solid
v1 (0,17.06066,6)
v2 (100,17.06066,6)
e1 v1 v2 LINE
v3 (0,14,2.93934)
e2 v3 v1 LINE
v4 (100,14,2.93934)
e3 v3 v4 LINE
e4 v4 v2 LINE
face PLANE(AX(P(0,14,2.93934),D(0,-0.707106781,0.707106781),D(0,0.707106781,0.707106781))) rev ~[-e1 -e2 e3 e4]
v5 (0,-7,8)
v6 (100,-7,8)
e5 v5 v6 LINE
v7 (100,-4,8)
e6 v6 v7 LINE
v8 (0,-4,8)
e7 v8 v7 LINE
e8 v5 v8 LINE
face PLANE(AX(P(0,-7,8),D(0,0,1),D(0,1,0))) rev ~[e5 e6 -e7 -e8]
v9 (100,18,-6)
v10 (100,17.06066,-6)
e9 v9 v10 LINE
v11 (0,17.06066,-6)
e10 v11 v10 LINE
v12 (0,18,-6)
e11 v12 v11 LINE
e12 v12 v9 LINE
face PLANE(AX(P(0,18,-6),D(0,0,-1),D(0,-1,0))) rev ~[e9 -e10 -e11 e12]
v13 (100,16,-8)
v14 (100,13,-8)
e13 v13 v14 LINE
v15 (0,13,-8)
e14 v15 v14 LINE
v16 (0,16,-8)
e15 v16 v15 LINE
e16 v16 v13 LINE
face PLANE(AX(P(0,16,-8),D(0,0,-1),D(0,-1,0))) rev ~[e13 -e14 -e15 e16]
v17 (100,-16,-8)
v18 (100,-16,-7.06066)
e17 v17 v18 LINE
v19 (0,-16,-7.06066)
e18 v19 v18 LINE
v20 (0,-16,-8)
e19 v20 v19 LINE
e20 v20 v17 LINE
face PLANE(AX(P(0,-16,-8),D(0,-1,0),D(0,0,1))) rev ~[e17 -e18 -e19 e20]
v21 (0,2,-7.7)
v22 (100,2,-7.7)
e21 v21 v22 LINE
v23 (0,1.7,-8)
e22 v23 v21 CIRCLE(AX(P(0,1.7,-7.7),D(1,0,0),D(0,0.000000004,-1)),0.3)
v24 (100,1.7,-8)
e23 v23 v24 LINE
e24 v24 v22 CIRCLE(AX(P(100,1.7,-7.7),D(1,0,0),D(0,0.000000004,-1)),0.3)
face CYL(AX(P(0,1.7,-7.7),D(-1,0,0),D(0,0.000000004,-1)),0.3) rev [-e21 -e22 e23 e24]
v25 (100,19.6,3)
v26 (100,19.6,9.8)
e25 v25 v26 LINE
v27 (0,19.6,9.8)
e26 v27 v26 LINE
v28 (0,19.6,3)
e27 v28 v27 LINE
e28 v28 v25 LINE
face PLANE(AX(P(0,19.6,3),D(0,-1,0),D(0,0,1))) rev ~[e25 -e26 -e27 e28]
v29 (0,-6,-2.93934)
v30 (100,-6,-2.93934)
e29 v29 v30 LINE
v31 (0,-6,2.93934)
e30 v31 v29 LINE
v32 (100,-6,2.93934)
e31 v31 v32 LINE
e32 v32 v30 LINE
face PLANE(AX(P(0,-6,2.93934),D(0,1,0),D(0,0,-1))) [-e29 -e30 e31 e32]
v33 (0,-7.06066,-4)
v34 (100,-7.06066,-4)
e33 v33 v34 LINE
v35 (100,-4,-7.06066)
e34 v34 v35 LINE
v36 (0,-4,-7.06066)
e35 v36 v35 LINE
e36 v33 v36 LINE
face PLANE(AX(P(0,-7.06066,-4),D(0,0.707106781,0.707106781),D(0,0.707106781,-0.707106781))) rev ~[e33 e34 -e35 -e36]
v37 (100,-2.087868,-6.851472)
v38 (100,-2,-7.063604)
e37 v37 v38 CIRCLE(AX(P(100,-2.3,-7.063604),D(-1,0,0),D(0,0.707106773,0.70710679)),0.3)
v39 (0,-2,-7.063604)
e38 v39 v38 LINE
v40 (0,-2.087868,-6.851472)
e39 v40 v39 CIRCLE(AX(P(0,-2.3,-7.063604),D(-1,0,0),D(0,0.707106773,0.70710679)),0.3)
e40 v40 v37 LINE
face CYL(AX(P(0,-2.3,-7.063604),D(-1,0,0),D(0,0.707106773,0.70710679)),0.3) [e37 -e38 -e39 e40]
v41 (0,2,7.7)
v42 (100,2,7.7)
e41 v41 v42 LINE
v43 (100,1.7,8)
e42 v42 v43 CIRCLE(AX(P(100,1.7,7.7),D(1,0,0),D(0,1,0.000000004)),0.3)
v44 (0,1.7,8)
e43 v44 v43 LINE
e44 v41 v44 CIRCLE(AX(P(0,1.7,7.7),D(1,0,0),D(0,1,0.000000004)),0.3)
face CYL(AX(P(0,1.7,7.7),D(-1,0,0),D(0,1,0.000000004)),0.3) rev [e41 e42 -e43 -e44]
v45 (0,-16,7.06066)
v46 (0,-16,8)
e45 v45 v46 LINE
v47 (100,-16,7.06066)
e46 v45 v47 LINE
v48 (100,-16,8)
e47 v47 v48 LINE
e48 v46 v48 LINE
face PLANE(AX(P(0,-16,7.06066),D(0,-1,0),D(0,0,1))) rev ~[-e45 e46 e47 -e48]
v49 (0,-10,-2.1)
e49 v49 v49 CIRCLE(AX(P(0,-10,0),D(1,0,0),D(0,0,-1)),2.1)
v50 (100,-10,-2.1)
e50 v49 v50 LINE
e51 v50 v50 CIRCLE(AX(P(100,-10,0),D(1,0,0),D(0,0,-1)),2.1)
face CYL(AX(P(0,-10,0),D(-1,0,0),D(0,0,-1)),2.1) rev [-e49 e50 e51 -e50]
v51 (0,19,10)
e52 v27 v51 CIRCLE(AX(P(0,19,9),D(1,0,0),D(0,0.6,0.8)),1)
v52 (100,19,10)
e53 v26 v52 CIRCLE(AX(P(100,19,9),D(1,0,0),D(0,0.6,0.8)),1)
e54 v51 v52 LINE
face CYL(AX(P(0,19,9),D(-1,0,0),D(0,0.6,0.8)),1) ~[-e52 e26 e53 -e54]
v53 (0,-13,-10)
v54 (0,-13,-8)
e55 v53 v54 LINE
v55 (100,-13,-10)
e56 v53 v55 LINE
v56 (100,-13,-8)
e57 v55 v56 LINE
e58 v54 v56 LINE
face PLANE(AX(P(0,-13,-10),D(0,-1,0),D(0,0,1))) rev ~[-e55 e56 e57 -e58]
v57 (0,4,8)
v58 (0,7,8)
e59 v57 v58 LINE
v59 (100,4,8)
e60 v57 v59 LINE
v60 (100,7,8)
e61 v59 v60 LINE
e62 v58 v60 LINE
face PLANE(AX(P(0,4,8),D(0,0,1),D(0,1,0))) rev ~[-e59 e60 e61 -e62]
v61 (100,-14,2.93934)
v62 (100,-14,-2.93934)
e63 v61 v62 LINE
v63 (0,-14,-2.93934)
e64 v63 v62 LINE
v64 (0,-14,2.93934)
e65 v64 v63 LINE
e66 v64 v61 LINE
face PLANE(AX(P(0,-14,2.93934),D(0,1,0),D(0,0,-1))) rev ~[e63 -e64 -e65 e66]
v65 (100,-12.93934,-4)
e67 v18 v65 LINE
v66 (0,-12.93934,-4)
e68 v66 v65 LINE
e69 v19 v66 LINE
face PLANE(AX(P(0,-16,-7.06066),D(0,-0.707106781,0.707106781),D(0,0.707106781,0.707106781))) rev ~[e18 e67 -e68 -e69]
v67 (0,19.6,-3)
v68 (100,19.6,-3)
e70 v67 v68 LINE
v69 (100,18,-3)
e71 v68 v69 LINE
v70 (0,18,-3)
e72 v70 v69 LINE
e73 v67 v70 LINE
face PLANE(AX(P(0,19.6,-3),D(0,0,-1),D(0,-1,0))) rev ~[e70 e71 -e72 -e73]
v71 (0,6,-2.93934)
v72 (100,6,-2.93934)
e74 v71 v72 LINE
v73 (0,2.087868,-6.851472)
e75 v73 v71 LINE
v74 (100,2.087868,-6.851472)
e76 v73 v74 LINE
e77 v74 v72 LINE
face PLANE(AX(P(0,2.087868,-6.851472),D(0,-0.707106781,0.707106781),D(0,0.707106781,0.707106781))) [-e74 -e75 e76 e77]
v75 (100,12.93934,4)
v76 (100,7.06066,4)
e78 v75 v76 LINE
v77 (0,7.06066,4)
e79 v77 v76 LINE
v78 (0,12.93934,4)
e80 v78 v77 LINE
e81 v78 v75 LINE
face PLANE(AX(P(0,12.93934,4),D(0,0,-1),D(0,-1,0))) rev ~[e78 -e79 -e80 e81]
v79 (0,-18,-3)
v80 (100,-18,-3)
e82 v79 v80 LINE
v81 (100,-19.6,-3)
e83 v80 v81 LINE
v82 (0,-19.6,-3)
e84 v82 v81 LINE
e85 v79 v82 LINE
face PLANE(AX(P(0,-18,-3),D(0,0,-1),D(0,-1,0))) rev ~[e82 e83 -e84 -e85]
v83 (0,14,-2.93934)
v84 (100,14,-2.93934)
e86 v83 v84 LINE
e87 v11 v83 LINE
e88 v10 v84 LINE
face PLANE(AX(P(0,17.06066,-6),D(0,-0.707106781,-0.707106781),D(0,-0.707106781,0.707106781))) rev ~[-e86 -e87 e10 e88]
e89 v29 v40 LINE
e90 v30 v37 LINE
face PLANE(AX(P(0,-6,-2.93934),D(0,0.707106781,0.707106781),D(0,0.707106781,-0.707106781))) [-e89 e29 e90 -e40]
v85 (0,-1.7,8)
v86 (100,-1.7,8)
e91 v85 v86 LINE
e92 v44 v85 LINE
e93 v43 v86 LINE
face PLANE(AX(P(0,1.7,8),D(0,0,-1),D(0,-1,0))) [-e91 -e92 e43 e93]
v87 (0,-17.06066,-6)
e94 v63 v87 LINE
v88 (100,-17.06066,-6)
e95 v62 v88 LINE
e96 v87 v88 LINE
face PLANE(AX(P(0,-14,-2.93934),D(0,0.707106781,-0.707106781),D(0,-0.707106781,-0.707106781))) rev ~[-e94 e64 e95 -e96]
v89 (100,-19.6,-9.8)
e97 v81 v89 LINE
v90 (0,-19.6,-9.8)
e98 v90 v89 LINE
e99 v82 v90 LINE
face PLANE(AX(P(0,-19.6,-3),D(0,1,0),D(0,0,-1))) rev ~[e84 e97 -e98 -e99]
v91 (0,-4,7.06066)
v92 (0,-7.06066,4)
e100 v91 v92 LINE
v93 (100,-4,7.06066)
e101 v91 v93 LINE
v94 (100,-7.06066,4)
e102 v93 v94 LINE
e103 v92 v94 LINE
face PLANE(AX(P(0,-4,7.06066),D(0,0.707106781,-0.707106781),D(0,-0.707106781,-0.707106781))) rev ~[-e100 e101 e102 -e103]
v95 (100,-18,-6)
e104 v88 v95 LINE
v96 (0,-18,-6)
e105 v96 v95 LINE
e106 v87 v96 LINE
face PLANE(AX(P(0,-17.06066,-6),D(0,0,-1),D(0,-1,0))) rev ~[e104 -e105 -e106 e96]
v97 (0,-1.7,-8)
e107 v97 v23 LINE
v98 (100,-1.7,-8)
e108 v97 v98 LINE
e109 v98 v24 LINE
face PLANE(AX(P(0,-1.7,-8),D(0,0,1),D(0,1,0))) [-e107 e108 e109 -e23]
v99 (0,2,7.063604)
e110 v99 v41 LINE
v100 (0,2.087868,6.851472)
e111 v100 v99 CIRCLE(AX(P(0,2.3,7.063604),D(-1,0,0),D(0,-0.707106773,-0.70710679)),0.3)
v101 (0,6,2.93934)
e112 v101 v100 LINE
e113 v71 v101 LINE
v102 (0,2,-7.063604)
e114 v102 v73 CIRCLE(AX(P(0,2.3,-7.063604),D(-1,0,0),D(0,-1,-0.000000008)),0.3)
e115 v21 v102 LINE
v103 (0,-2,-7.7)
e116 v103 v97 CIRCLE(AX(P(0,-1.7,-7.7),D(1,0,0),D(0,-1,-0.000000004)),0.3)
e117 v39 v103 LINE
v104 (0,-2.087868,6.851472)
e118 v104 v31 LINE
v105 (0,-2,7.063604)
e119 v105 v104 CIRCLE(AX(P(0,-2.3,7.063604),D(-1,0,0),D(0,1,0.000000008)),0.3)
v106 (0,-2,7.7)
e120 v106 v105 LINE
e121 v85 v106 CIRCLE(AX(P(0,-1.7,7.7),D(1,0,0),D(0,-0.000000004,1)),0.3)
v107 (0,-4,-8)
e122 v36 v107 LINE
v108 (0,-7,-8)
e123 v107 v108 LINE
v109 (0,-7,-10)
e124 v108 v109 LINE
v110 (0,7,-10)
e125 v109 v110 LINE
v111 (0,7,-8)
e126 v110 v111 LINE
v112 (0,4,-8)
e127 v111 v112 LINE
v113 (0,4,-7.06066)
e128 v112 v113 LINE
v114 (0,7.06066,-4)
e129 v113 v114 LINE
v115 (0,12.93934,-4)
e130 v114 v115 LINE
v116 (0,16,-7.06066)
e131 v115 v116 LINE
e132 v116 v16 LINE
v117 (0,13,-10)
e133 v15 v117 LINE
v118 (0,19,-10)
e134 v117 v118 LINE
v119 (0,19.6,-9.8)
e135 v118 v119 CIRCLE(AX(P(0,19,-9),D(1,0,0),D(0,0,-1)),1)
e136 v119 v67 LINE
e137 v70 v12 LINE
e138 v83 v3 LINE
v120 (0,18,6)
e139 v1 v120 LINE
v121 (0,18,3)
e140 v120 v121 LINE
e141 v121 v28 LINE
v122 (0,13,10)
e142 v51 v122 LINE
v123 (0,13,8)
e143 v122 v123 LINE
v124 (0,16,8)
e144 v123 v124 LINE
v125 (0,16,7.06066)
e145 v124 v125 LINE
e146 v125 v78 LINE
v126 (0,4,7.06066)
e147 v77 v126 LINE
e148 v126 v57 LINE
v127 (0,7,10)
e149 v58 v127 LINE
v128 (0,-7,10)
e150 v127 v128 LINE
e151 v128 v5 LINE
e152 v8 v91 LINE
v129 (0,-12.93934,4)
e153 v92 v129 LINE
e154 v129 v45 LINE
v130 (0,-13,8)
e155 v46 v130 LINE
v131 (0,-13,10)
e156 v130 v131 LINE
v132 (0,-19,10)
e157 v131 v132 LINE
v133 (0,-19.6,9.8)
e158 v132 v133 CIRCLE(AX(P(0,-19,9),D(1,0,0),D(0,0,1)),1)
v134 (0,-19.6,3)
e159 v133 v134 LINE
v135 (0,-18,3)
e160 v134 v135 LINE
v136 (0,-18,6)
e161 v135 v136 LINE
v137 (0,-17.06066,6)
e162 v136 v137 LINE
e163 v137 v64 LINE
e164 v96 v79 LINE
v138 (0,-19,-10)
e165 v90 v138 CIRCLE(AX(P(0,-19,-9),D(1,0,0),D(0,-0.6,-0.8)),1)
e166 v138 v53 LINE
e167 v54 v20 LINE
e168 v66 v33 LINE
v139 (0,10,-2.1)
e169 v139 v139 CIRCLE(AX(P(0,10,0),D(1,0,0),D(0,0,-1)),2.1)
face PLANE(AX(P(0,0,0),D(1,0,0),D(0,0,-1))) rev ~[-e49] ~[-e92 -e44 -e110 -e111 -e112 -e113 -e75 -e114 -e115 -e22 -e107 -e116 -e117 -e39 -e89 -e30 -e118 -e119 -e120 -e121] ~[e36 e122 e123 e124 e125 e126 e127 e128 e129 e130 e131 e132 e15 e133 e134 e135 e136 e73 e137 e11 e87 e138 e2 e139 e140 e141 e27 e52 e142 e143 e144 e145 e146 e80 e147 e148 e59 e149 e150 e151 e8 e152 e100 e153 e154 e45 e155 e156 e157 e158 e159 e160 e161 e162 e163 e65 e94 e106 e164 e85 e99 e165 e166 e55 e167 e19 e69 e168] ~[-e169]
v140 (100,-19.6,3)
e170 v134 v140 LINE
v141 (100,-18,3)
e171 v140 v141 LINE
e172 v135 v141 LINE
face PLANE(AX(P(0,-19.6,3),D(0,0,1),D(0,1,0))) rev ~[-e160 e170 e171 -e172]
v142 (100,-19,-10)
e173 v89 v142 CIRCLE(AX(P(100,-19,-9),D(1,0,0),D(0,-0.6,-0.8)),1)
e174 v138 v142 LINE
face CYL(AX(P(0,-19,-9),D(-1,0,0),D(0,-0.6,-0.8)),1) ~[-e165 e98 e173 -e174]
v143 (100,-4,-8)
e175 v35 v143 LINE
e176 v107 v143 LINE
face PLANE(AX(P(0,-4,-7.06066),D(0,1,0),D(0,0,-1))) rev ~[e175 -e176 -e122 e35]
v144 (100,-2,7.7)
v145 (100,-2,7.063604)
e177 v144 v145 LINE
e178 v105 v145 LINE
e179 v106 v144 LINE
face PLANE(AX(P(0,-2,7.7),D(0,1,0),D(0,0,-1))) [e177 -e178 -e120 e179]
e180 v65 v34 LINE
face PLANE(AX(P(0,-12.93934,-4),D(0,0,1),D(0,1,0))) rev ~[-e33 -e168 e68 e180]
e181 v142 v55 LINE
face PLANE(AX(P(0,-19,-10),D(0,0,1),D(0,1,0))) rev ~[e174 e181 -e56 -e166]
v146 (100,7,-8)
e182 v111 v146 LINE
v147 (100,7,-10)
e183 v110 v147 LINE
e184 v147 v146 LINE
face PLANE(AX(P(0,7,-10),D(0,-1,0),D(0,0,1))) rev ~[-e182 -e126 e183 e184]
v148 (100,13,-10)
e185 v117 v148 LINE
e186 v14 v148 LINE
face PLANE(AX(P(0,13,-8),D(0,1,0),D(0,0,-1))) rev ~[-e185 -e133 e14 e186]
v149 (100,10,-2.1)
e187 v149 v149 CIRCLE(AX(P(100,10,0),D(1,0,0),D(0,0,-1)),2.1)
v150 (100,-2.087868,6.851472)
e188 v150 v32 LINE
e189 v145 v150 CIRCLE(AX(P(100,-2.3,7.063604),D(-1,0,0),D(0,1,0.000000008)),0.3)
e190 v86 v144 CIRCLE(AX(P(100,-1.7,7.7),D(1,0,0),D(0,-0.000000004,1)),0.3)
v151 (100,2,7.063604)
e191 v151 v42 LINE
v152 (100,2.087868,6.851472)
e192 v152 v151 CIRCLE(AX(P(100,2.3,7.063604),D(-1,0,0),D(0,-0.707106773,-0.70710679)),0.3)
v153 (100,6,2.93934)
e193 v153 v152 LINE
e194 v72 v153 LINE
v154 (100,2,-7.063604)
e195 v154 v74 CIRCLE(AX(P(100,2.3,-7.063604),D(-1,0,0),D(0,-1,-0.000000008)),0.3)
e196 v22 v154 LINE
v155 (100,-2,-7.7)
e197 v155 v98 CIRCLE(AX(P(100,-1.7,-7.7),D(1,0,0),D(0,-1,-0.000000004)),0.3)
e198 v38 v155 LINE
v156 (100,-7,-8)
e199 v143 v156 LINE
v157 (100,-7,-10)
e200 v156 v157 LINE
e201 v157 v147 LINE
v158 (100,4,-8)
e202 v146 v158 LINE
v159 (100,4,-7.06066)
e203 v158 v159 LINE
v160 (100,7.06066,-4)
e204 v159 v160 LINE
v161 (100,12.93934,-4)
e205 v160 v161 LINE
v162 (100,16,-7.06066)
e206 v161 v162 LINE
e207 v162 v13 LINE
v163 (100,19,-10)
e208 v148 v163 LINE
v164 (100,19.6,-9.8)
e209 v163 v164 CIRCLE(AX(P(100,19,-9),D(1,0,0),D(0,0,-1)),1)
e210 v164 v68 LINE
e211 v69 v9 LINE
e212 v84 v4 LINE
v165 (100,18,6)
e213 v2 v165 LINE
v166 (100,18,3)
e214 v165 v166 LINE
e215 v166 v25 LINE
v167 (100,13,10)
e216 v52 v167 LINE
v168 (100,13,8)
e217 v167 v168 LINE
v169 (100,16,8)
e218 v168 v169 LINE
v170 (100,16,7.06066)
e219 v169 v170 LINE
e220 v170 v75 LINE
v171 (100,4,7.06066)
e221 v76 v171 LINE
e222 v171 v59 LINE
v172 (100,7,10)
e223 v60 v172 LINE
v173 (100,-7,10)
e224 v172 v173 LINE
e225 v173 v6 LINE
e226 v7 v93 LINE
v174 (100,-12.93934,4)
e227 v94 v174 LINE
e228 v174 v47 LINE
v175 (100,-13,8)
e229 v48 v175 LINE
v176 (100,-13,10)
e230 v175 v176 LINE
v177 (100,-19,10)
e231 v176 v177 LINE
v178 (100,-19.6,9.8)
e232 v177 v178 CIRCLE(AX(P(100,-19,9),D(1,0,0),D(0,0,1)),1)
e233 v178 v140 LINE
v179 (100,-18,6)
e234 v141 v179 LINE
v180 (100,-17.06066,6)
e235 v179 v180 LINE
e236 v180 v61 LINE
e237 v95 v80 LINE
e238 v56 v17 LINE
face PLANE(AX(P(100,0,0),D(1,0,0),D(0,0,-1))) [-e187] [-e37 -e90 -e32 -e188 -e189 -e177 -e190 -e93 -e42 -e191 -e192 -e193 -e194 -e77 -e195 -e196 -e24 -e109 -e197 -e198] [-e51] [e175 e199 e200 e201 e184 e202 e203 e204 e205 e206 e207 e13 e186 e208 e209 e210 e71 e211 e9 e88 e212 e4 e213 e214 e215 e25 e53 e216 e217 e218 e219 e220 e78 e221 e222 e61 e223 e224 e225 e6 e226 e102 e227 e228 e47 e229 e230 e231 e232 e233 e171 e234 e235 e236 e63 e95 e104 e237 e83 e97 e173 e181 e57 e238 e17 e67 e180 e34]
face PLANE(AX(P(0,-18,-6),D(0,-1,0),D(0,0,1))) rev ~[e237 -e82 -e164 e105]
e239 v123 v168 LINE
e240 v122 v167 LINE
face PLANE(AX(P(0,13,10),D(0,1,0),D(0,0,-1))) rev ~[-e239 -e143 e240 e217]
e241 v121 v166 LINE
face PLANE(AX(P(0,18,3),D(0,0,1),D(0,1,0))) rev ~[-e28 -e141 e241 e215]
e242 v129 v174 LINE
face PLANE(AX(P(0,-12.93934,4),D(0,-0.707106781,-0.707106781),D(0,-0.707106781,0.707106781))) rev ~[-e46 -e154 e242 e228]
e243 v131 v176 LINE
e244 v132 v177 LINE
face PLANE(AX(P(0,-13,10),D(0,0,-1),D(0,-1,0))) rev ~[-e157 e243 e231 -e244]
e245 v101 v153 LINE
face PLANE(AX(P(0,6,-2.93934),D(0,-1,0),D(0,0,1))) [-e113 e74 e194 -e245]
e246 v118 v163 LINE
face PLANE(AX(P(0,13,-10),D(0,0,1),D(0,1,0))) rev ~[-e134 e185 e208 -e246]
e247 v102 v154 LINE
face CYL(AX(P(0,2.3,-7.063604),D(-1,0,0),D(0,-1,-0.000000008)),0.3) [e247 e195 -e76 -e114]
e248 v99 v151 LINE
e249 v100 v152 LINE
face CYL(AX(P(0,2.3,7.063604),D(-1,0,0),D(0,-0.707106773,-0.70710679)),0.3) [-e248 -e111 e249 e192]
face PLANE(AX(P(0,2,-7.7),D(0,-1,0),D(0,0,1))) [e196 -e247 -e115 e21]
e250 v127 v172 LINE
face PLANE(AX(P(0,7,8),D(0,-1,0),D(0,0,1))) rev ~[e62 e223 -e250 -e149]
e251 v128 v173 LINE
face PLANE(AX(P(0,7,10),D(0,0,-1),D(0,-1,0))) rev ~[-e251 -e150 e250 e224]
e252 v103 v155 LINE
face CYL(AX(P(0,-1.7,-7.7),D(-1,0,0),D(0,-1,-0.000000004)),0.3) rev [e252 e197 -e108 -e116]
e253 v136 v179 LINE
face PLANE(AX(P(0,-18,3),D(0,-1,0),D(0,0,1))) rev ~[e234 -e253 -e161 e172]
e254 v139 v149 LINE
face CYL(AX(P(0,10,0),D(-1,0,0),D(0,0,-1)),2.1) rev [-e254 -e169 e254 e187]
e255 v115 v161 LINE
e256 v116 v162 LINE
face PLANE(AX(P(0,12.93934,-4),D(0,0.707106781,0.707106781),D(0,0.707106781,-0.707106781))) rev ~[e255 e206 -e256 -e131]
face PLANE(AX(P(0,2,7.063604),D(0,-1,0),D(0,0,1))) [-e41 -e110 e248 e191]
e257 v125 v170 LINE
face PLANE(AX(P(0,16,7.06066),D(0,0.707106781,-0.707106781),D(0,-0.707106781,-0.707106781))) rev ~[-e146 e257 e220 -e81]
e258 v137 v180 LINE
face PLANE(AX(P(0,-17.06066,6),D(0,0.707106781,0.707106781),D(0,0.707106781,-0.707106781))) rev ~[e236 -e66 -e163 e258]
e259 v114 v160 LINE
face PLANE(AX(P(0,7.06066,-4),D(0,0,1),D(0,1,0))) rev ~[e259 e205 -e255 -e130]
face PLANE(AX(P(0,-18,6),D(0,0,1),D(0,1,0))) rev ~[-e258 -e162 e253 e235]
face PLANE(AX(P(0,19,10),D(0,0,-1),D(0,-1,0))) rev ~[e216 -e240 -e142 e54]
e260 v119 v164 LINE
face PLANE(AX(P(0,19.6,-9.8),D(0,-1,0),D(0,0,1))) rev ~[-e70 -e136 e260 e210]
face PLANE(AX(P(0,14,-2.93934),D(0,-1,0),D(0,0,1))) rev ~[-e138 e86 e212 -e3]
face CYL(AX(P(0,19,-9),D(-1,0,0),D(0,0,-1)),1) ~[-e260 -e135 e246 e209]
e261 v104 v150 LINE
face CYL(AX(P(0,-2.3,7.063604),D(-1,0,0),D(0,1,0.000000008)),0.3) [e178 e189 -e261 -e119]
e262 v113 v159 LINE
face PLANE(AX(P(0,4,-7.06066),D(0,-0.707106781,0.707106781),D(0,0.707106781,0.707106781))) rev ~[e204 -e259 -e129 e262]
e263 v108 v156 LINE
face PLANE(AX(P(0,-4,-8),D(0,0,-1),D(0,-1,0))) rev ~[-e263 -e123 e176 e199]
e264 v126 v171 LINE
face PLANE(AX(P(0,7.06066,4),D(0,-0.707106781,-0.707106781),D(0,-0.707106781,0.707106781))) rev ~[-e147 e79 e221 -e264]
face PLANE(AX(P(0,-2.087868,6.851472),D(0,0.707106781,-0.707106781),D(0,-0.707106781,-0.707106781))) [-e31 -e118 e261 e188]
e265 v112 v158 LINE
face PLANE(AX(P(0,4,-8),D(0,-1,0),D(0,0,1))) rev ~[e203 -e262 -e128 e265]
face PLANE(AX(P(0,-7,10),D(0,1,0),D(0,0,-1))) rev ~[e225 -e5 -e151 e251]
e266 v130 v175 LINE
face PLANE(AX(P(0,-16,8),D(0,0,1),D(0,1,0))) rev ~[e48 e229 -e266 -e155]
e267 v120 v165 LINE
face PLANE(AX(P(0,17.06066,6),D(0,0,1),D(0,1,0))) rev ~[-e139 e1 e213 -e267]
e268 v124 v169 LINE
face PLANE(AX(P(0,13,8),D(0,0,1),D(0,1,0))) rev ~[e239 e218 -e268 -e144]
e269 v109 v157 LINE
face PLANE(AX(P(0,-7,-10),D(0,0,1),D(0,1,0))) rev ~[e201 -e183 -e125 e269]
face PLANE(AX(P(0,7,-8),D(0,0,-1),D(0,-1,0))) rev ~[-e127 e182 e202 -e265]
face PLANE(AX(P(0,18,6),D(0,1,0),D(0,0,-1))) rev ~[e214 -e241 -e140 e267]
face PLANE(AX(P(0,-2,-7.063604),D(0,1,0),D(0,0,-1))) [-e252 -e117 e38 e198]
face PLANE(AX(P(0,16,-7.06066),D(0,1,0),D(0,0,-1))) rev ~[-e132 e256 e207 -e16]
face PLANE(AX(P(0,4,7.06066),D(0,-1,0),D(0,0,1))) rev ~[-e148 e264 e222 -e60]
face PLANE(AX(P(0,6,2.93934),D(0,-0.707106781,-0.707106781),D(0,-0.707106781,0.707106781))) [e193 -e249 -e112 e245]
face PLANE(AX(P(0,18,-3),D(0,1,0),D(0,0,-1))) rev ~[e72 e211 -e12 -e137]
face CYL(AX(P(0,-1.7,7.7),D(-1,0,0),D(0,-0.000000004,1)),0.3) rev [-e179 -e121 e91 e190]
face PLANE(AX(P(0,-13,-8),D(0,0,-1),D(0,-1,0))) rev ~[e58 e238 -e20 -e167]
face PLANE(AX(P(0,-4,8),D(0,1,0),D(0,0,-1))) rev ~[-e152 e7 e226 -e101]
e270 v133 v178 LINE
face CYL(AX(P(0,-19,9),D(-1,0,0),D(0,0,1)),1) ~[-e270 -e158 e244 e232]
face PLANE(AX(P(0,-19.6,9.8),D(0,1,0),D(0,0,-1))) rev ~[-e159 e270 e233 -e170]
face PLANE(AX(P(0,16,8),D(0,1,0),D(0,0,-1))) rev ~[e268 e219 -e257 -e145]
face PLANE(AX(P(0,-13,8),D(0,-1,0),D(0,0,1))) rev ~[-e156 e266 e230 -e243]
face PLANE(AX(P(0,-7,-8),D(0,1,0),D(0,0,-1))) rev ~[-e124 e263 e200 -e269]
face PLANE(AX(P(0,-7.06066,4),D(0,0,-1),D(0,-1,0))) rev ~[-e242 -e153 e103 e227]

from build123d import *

# Parameters (mm, degrees)
SKETCH1_R           = 2.1
BOSS_EXTRUDE1_DEPTH = 100


with BuildPart() as part:
    # Sketch1 → Boss-Extrude1 (new body)
    with BuildSketch(Plane(origin=(0, 0, 0), x_dir=(0, 0, -1), z_dir=(1, 0, 0))):
        with BuildLine():
            Line((-10, 7), (-10, -7))
            Line((-10, -7), (-8, -7))
            Line((-8, -7), (-8, -4))
            Line((-8, -4), (-7.060660172, -4))
            Line((-7.060660172, -4), (-4, -7.060660172))
            Line((-4, -7.060660172), (-4, -12.939339828))
            Line((-4, -12.939339828), (-7.060660172, -16))
            Line((-7.060660172, -16), (-8, -16))
            Line((-8, -16), (-8, -13))
            Line((-8, -13), (-10, -13))
            Line((-10, -13), (-10, -19))
            ThreePointArc((-10, -19), (-9.948683298, -19.316227766), (-9.8, -19.6))
            Line((-9.8, -19.6), (-3, -19.6))
            Line((-3, -19.6), (-3, -18))
            Line((-3, -18), (-6, -18))
            Line((-6, -18), (-6, -17.060660172))
            Line((-6, -17.060660172), (-2.939339828, -14))
            Line((-2.939339828, -14), (2.939339828, -14))
            Line((2.939339828, -14), (6, -17.060660172))
            Line((6, -17.060660172), (6, -18))
            Line((6, -18), (3, -18))
            Line((3, -18), (3, -19.6))
            Line((3, -19.6), (9.8, -19.6))
            ThreePointArc((9.8, -19.6), (9.948683298, -19.316227766), (10, -19))
            Line((10, -19), (10, -13))
            Line((10, -13), (8, -13))
            Line((8, -13), (8, -16))
            Line((8, -16), (7.060660172, -16))
            Line((7.060660172, -16), (4, -12.939339828))
            Line((4, -12.939339828), (4, -7.060660172))
            Line((4, -7.060660172), (7.060660172, -4))
            Line((7.060660172, -4), (8, -4))
            Line((8, -4), (8, -7))
            Line((8, -7), (10, -7))
            Line((10, -7), (10, 7))
            Line((10, 7), (8, 7))
            Line((8, 7), (8, 4))
            Line((8, 4), (7.060660172, 4))
            Line((7.060660172, 4), (4, 7.060660172))
            Line((4, 7.060660172), (4, 12.939339828))
            Line((4, 12.939339828), (7.060660172, 16))
            Line((7.060660172, 16), (8, 16))
            Line((8, 16), (8, 13))
            Line((8, 13), (10, 13))
            Line((10, 13), (10, 19))
            ThreePointArc((10, 19), (9.948683298, 19.316227766), (9.8, 19.6))
            Line((9.8, 19.6), (3, 19.6))
            Line((3, 19.6), (3, 18))
            Line((3, 18), (6, 18))
            Line((6, 18), (6, 17.060660172))
            Line((6, 17.060660172), (2.939339828, 14))
            Line((2.939339828, 14), (-2.939339828, 14))
            Line((-2.939339828, 14), (-6, 17.060660172))
            Line((-6, 17.060660172), (-6, 18))
            Line((-6, 18), (-3, 18))
            Line((-3, 18), (-3, 19.6))
            Line((-3, 19.6), (-9.8, 19.6))
            ThreePointArc((-9.8, 19.6), (-9.948683298, 19.316227766), (-10, 19))
            Line((-10, 19), (-10, 13))
            Line((-10, 13), (-8, 13))
            Line((-8, 13), (-8, 16))
            Line((-8, 16), (-7.060660172, 16))
            Line((-7.060660172, 16), (-4, 12.939339828))
            Line((-4, 12.939339828), (-4, 7.060660172))
            Line((-4, 7.060660172), (-7.060660172, 4))
            Line((-7.060660172, 4), (-8, 4))
            Line((-8, 4), (-8, 7))
            Line((-8, 7), (-10, 7))
        make_face()
        with Locations((0, 10)):
            Circle(SKETCH1_R, mode=Mode.SUBTRACT)
        with Locations((0, -10)):
            Circle(SKETCH1_R, mode=Mode.SUBTRACT)
        with BuildLine():
            Line((-8, 1.7), (-8, -1.7))
            ThreePointArc((-8, -1.7), (-7.912132034, -1.912132034), (-7.7, -2))
            Line((-7.7, -2), (-7.063603897, -2))
            ThreePointArc((-7.063603897, -2), (-6.948798867, -2.02283614), (-6.851471863, -2.087867966))
            Line((-6.851471863, -2.087867966), (-2.939339828, -6))
            Line((-2.939339828, -6), (2.939339828, -6))
            Line((2.939339828, -6), (6.851471863, -2.087867966))
            ThreePointArc((6.851471863, -2.087867966), (6.948798867, -2.02283614), (7.063603897, -2))
            Line((7.063603897, -2), (7.7, -2))
            ThreePointArc((7.7, -2), (7.912132034, -1.912132034), (8, -1.7))
            Line((8, -1.7), (8, 1.7))
            ThreePointArc((8, 1.7), (7.912132034, 1.912132034), (7.7, 2))
            Line((7.7, 2), (7.063603897, 2))
            ThreePointArc((7.063603897, 2), (6.948798867, 2.02283614), (6.851471863, 2.087867966))
            Line((6.851471863, 2.087867966), (2.939339828, 6))
            Line((2.939339828, 6), (-2.939339828, 6))
            Line((-2.939339828, 6), (-6.851471863, 2.087867966))
            ThreePointArc((-6.851471863, 2.087867966), (-6.948798867, 2.02283614), (-7.063603897, 2))
            Line((-7.063603897, 2), (-7.7, 2))
            ThreePointArc((-7.7, 2), (-7.912132034, 1.912132034), (-8, 1.7))
        make_face(mode=Mode.SUBTRACT)
    extrude(amount=BOSS_EXTRUDE1_DEPTH)


solid = part.part
